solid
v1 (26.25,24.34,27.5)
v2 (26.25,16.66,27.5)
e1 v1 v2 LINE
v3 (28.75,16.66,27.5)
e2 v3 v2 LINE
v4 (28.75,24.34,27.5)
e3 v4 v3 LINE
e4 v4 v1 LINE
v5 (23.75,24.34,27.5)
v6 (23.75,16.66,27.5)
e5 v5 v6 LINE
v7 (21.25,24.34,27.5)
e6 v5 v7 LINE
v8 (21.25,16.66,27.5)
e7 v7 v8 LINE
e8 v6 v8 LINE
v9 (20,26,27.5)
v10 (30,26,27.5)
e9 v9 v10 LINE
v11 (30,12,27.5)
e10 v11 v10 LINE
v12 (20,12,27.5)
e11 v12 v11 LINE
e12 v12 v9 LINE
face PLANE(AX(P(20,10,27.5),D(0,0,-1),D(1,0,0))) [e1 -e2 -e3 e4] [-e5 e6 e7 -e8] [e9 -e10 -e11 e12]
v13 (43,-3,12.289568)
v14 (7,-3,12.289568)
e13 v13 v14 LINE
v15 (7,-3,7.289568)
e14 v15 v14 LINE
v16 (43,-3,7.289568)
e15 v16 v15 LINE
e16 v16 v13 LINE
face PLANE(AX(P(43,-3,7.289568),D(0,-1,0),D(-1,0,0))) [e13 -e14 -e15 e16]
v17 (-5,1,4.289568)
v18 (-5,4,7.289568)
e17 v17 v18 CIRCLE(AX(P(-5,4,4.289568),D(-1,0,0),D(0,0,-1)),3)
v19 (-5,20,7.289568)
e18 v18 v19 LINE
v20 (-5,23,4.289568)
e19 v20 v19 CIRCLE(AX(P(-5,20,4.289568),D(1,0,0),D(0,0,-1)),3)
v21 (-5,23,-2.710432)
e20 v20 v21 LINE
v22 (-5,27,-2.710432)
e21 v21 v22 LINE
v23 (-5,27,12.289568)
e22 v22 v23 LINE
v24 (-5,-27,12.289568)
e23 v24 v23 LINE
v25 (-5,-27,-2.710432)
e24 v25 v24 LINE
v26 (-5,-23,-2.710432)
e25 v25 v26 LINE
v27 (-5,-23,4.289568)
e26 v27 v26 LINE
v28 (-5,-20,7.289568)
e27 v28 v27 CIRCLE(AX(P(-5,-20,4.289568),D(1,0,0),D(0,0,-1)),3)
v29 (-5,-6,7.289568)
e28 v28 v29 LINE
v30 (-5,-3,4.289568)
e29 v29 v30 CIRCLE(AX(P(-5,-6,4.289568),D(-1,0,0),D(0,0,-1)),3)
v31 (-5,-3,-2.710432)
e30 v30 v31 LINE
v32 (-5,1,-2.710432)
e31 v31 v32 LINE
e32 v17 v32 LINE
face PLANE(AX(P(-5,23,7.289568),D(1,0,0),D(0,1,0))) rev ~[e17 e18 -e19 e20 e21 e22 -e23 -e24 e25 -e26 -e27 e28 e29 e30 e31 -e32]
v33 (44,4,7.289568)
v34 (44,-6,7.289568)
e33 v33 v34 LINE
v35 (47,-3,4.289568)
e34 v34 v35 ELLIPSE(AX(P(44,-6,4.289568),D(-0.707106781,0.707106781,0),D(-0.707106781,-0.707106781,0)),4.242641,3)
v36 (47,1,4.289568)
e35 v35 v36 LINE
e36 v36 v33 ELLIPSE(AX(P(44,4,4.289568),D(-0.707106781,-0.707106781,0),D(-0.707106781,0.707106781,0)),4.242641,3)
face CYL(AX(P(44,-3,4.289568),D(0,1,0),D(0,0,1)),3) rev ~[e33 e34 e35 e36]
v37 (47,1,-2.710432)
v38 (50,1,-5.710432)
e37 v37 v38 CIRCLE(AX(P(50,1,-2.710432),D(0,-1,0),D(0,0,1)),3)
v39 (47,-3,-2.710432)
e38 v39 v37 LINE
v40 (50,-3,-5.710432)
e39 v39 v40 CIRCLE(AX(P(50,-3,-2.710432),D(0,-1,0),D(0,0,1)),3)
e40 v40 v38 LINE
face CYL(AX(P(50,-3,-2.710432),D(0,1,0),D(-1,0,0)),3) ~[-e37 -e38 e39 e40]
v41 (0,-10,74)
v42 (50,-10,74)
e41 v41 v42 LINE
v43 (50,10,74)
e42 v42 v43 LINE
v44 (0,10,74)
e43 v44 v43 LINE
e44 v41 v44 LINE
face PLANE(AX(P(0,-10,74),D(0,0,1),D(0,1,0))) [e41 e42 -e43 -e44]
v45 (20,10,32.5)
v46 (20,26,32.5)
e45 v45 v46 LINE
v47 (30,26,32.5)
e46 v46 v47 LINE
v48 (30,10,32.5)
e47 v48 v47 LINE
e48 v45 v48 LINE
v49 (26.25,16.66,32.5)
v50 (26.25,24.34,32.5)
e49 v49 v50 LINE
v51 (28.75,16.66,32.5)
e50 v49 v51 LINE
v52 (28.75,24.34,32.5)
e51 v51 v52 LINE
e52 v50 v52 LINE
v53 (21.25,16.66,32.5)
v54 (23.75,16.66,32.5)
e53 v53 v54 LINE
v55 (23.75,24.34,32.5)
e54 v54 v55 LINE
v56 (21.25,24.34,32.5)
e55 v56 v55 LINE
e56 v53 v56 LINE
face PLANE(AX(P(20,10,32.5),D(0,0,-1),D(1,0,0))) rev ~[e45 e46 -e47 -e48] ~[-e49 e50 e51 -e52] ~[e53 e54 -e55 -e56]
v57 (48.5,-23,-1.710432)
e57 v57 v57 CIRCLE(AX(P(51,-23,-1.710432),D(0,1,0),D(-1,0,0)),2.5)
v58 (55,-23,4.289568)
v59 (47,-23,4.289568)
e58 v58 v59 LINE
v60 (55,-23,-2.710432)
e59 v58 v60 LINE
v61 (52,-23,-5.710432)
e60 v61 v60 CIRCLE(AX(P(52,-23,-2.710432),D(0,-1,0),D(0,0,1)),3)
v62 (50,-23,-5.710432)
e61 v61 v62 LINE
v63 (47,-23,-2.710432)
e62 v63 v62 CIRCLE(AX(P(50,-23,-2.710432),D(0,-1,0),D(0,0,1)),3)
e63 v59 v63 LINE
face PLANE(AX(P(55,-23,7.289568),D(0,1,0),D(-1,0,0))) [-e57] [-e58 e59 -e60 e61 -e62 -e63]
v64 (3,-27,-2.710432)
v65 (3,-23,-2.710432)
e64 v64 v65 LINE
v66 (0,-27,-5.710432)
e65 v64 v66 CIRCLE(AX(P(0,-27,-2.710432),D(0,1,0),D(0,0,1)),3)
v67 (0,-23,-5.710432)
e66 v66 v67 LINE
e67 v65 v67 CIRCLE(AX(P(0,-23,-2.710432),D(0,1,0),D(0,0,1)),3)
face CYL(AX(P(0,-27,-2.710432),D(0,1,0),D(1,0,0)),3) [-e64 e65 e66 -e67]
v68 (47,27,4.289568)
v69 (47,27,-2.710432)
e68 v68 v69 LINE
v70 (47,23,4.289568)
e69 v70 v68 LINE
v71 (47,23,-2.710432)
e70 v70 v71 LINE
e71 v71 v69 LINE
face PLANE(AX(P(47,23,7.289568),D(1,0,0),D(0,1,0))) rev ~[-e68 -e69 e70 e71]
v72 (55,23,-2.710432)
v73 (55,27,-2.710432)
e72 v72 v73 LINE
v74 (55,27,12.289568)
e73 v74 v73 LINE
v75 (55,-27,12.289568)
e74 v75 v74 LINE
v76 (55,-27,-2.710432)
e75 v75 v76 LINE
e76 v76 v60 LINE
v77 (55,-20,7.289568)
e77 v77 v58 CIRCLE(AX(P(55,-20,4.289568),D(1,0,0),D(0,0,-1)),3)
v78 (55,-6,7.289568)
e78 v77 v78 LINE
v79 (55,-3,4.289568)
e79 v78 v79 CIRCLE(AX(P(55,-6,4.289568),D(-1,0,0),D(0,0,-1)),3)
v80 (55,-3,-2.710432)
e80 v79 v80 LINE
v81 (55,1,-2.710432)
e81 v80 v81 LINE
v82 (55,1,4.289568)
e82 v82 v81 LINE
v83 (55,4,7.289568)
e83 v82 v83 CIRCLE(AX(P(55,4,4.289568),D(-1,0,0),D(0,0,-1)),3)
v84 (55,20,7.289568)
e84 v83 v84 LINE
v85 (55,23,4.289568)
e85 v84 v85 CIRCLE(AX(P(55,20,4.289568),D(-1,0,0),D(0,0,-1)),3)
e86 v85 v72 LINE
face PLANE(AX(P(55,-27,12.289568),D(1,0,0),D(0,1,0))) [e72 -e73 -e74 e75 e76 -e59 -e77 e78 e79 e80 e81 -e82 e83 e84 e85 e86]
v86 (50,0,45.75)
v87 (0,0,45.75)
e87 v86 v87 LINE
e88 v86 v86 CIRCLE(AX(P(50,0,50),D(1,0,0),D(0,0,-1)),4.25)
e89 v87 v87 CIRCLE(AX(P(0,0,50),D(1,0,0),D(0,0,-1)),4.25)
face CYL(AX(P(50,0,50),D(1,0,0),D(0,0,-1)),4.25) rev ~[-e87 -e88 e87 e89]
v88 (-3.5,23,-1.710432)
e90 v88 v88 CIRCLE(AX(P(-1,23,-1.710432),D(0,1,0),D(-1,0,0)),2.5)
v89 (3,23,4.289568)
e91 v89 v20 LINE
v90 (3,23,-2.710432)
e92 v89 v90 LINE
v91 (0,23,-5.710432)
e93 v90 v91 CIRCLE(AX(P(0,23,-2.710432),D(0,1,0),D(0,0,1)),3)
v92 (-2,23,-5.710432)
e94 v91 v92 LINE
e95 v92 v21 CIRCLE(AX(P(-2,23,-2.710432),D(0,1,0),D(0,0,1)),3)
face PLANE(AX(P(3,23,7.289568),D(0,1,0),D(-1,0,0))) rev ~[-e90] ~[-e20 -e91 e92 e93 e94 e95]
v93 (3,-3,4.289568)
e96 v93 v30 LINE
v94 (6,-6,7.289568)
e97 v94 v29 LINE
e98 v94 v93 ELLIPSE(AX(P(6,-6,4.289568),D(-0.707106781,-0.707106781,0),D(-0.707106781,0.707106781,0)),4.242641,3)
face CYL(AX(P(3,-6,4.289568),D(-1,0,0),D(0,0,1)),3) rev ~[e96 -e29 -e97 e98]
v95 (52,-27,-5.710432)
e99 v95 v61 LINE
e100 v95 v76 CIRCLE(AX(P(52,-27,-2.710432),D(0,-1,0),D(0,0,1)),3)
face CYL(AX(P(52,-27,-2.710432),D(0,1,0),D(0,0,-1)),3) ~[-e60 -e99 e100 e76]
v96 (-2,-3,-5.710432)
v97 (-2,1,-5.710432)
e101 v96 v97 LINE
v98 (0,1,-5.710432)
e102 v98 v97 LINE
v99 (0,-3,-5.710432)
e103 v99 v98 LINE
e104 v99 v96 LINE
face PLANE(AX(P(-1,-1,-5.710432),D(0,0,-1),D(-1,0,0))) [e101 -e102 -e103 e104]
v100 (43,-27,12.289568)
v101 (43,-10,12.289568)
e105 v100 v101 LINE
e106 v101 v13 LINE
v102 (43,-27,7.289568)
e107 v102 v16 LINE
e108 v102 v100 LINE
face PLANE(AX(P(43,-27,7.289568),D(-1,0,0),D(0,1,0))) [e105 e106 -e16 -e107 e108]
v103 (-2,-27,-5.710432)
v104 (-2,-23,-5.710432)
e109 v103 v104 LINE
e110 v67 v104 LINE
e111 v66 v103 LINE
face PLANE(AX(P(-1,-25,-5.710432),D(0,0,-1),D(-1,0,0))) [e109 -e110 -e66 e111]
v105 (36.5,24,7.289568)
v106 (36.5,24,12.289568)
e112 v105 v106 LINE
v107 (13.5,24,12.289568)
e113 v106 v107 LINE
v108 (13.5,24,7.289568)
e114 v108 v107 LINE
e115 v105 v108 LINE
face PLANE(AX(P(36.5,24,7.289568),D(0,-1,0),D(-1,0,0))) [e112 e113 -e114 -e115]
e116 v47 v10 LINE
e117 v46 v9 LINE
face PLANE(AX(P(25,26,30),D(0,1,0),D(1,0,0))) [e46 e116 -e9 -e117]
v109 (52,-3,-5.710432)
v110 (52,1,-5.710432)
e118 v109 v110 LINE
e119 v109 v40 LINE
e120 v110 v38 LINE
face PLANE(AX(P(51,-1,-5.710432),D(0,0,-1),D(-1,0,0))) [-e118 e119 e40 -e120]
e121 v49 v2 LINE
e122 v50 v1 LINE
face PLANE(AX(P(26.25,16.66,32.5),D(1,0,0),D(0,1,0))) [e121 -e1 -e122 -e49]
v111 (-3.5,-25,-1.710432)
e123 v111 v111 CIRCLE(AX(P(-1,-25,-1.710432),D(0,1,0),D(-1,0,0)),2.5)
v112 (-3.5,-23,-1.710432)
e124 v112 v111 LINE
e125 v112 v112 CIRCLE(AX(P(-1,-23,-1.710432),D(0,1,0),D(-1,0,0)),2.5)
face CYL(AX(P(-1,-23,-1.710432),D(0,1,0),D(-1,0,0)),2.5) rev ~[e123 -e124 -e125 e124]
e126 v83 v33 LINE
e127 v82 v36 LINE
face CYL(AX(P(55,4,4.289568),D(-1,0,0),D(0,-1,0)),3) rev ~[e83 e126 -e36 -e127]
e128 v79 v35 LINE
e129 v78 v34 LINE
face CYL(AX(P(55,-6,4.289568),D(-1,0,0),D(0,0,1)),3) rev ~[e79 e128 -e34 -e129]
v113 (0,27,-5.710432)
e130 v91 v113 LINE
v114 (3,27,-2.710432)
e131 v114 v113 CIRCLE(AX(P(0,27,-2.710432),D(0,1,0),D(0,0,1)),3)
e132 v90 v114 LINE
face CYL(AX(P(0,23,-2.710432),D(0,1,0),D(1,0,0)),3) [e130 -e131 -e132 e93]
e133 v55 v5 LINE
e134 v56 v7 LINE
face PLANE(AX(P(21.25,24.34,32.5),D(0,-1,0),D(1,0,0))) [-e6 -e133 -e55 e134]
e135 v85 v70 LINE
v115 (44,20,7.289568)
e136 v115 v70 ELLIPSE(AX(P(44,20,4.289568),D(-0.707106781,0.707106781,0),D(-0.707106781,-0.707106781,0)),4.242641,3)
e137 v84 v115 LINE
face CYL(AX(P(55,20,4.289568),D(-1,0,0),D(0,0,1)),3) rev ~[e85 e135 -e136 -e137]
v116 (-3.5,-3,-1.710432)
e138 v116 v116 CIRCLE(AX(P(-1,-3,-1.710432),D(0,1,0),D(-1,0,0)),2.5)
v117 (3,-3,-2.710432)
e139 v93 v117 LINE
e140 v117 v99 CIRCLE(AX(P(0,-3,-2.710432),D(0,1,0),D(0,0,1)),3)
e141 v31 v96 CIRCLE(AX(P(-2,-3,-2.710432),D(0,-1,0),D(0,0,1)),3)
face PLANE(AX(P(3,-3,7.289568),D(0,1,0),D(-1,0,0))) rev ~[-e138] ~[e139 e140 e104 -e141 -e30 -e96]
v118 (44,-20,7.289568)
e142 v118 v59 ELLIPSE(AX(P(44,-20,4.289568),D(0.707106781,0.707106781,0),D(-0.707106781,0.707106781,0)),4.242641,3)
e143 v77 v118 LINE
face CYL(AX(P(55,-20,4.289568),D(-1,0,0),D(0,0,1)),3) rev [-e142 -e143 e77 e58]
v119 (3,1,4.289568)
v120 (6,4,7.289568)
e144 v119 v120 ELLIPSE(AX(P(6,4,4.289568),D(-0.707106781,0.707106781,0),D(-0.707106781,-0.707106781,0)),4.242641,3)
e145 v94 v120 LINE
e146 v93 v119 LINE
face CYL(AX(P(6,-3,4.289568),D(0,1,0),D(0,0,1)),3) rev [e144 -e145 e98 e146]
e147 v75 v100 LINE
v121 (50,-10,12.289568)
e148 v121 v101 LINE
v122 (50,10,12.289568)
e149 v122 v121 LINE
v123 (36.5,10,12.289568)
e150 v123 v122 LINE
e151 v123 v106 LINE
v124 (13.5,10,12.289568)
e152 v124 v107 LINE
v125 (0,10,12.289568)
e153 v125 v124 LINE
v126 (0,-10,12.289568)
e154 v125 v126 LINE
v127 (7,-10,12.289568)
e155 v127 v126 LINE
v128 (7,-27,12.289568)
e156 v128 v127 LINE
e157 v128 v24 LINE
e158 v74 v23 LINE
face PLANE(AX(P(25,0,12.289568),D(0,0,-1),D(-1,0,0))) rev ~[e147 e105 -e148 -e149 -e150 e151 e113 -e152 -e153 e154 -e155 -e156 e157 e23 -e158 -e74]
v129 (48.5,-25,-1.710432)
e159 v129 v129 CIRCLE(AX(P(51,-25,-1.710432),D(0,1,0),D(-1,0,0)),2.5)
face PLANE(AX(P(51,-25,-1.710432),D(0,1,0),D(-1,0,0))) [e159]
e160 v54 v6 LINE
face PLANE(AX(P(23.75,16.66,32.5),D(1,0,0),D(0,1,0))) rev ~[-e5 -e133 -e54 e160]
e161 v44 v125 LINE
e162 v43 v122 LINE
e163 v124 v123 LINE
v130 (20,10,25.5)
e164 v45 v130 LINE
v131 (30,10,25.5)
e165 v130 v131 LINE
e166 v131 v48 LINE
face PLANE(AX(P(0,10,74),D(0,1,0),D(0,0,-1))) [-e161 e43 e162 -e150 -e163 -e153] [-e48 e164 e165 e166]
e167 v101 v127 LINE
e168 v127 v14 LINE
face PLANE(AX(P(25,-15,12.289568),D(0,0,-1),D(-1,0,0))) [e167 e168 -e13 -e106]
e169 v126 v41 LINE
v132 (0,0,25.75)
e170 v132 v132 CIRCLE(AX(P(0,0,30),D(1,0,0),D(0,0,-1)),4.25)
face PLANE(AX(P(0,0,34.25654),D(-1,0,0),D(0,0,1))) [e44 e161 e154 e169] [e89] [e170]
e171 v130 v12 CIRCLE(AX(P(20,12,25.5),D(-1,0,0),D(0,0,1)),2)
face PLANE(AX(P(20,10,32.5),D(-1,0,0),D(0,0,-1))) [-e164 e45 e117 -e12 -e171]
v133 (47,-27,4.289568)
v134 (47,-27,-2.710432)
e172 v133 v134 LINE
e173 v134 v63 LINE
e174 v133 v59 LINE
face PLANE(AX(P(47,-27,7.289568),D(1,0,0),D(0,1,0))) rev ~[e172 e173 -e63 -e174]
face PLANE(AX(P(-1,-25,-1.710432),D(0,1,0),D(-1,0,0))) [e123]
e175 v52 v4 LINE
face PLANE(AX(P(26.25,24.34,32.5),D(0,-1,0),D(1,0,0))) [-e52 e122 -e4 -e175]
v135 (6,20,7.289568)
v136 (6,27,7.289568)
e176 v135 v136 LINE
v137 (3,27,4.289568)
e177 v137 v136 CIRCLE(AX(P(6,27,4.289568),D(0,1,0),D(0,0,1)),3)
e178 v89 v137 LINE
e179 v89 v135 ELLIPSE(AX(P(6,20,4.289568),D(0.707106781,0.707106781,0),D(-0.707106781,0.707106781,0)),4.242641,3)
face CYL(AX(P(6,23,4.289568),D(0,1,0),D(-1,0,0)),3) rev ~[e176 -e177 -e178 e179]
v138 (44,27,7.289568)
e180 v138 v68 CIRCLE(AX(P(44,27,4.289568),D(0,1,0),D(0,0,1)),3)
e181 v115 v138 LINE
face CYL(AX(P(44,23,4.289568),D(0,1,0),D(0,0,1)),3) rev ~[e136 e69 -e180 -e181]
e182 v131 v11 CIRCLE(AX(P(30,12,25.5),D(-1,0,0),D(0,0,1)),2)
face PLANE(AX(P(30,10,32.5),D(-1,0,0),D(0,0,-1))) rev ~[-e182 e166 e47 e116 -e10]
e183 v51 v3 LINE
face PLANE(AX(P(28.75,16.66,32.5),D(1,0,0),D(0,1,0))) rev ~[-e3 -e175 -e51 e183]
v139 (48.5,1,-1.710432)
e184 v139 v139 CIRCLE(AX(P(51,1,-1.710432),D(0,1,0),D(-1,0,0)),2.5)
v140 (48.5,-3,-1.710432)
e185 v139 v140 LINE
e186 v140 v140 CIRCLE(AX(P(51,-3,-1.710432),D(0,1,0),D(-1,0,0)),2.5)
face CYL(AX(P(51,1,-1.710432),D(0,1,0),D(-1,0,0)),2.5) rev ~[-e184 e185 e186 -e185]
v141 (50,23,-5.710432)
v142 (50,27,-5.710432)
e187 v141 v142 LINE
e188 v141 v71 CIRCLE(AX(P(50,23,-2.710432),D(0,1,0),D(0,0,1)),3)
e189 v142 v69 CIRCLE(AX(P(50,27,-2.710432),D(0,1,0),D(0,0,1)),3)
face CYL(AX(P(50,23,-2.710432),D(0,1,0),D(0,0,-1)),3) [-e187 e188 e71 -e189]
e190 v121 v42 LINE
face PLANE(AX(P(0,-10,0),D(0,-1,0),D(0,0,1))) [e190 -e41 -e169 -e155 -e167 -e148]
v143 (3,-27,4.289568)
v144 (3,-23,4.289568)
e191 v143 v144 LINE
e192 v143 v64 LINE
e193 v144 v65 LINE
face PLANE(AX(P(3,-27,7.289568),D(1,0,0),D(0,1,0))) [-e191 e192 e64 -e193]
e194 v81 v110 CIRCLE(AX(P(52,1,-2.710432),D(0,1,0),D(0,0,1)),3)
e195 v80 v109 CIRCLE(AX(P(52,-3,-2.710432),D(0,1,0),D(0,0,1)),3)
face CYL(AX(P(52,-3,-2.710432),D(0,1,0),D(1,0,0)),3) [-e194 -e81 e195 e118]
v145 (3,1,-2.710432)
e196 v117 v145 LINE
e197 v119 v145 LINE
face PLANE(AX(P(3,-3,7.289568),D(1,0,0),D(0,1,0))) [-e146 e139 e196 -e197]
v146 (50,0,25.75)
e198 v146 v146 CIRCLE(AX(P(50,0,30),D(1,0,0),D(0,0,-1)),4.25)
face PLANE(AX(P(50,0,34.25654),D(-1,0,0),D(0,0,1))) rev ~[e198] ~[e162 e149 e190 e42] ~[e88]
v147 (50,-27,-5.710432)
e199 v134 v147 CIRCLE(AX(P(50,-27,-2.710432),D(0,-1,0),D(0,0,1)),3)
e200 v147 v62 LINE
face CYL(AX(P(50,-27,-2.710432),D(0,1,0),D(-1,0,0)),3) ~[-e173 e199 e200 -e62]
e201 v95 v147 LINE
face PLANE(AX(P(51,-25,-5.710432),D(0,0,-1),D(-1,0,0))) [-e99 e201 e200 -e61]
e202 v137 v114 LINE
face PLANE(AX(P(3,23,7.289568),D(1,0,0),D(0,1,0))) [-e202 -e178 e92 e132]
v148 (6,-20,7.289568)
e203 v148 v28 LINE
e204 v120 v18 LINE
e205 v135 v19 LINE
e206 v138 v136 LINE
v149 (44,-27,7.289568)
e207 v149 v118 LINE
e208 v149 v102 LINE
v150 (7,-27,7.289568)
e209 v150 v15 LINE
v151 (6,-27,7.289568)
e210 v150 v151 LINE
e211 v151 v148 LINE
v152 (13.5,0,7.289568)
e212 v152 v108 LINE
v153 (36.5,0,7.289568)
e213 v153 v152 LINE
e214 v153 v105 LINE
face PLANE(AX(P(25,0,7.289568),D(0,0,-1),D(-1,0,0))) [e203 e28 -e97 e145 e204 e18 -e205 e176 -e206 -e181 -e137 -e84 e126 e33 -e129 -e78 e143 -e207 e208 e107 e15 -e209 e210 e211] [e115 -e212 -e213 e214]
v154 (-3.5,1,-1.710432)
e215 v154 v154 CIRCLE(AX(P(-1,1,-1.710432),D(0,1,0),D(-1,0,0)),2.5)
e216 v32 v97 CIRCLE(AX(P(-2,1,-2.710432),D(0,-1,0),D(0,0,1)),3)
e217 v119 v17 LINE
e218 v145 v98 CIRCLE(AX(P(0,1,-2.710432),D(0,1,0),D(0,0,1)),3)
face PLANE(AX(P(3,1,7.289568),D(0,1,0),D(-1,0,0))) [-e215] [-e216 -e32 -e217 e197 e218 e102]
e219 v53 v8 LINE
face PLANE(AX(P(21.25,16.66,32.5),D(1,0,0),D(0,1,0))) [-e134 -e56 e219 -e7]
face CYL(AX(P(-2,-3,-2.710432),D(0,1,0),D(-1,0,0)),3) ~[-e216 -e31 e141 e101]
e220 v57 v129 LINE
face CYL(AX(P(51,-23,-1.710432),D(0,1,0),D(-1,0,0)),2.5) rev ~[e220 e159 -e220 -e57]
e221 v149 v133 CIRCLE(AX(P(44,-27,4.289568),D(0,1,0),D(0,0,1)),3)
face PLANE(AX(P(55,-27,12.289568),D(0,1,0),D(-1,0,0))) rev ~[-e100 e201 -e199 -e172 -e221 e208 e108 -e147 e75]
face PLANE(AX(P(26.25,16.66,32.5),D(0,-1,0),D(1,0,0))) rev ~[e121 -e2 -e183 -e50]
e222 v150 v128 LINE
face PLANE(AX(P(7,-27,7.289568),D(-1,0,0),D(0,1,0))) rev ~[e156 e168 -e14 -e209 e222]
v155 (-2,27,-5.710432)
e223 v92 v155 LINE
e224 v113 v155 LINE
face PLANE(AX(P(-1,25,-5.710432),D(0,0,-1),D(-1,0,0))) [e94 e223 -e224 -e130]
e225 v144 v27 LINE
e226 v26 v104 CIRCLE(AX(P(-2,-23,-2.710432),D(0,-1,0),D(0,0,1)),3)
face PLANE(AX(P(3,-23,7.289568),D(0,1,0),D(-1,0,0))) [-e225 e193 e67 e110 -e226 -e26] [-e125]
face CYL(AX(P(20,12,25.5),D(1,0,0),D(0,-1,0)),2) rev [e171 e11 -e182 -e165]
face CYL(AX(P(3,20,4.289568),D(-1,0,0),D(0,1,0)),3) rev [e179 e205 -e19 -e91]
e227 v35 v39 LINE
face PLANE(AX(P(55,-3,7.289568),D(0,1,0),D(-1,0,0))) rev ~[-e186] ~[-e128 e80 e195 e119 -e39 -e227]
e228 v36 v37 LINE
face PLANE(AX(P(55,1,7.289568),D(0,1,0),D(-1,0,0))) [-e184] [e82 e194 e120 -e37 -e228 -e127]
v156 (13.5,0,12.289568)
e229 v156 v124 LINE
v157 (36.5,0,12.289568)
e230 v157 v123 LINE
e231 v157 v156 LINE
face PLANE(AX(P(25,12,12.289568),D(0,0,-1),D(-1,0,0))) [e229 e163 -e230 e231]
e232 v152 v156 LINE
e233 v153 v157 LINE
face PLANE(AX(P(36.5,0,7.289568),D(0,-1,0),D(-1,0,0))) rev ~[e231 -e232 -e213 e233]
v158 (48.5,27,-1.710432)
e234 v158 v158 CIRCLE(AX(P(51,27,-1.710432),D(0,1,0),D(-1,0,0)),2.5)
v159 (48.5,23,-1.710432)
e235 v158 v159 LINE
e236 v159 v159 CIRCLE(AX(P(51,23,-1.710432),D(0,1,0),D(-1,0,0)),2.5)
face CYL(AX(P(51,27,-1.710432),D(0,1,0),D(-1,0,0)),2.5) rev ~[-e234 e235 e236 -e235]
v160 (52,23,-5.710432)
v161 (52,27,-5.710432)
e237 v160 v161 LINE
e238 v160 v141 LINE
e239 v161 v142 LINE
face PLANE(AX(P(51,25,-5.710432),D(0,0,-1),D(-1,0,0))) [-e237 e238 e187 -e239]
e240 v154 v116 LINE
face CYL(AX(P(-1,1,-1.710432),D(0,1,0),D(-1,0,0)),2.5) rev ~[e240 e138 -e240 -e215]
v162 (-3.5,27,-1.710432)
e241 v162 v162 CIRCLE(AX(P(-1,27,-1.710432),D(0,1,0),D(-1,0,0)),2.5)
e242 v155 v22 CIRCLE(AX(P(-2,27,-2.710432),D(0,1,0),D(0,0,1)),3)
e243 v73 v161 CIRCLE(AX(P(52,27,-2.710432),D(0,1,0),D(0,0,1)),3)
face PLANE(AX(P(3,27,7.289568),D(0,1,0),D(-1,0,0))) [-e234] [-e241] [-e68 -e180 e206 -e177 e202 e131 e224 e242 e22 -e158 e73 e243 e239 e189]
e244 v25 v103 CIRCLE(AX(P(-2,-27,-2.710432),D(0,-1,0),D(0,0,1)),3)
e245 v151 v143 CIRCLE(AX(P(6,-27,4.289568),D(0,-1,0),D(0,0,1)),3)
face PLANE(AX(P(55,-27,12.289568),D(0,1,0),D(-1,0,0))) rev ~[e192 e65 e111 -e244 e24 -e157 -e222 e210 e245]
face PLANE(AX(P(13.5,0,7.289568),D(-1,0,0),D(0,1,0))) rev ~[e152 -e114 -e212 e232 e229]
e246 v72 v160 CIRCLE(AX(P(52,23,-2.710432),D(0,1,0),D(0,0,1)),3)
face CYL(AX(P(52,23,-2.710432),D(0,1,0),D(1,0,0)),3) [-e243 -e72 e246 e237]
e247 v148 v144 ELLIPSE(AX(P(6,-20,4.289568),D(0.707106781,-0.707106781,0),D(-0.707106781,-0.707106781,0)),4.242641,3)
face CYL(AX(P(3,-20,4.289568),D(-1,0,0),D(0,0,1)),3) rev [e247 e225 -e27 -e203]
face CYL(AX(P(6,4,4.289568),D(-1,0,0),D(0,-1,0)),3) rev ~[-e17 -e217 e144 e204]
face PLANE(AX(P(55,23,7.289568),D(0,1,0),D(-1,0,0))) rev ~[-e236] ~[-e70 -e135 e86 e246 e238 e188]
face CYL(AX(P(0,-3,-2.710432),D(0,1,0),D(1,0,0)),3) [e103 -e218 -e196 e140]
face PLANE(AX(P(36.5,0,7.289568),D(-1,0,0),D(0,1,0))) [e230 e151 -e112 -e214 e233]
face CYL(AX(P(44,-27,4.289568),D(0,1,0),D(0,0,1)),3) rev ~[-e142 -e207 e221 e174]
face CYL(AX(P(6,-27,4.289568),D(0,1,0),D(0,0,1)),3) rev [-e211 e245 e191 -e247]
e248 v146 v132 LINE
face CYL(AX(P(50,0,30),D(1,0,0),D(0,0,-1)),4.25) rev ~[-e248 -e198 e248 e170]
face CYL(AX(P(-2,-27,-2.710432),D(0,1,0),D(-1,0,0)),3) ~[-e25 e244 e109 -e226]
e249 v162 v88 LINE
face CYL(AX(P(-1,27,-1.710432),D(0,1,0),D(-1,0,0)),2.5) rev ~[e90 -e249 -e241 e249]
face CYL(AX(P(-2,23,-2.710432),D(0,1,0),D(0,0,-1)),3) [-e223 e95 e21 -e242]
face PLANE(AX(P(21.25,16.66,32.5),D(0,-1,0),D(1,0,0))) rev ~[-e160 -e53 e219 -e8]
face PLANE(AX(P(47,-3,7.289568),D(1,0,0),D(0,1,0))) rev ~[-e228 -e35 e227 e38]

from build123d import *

# Parameters (mm, degrees)
BOSS_EXTRUDE1_DEPTH = 50
SKETCH3_R           = 4.25
CUT_EXTRUDE2_DEPTH  = 90.866567755
SKETCH5_W           = 10
SKETCH5_H           = 5
BOSS_EXTRUDE2_DEPTH = 16
FILLET1_R           = 2
SKETCH6_W           = 2.5
SKETCH6_H           = 7.68
CUT_EXTRUDE3_DEPTH  = 16
SKETCH9_W           = 50
SKETCH9_H           = 22.289567514
CUT_EXTRUDE4_DEPTH  = 92.520489509
SKETCH10_W          = 60
SKETCH10_H          = 54
BOSS_EXTRUDE3_DEPTH = 5
SKETCH11_W          = 23
SKETCH11_H          = 24
SKETCH11_W_2        = 36
CUT_EXTRUDE5_DEPTH  = 5
SKETCH12_W          = 8
SKETCH12_H          = 4
BOSS_EXTRUDE4_DEPTH = 13
FILLET2_R           = 3
FILLET3_R           = 3
FILLET4_R           = 3
FILLET5_R           = 3
SKETCH13_R          = 2.5
CUT_EXTRUDE6_DEPTH  = 13
SKETCH14_R          = 2.5
CUT_EXTRUDE7_DEPTH  = 10
SKETCH15_R          = 2.5
CUT_EXTRUDE8_DEPTH  = 2


with BuildPart() as part:
    # Sketch2 → Boss-Extrude1 (new body)
    with BuildSketch(Plane(origin=(0, 0, 0), x_dir=(0, 0, -1), z_dir=(1, 0, 0))):
        with BuildLine():
            Line((-74, 10), (0, 10))
            ThreePointArc((0, 10), (10, 0), (0, -10))
            Line((0, -10), (-74, -10))
            Line((-74, -10), (-74, 10))
        make_face()
    extrude(amount=BOSS_EXTRUDE1_DEPTH)

    # Sketch3 → Cut-Extrude2 (cut, through all)
    with BuildSketch(Plane(origin=(50, 0, 0), x_dir=(0, 0, -1), z_dir=(1, 0, 0))):
        with Locations((-30, 0)):
            Circle(SKETCH3_R)
        with Locations((-50, 0)):
            Circle(SKETCH3_R)
    extrude(amount=-CUT_EXTRUDE2_DEPTH, mode=Mode.SUBTRACT)

    # Sketch5 → Boss-Extrude2 (add)
    with BuildSketch(Plane(origin=(0, 10, 0), x_dir=(1, 0, 0), z_dir=(0, 1, 0))):
        with Locations((25, -30)):
            Rectangle(SKETCH5_W, SKETCH5_H)
    extrude(amount=BOSS_EXTRUDE2_DEPTH)

    # Fillet1
    fillet1_edges = [part.edges().sort_by_distance(p)[0] for p in [
        (25, 10, 27.5),
    ]]
    fillet(fillet1_edges, radius=FILLET1_R)

    # Sketch6 → Cut-Extrude3 (cut)
    with BuildSketch(Plane.XY.offset(32.5)):
        with Locations((22.5, 20.5)):
            Rectangle(SKETCH6_W, SKETCH6_H)
        with Locations((27.5, 20.5)):
            Rectangle(SKETCH6_W, SKETCH6_H)
    extrude(amount=-CUT_EXTRUDE3_DEPTH, mode=Mode.SUBTRACT)

    # Sketch9 → Cut-Extrude4 (cut, through all)
    with BuildSketch(Plane(origin=(0, 10, 0), x_dir=(1, 0, 0), z_dir=(0, 1, 0))):
        with Locations((25, -1.144783757)):
            Rectangle(SKETCH9_W, SKETCH9_H)
    extrude(amount=-CUT_EXTRUDE4_DEPTH, mode=Mode.SUBTRACT)

    # Sketch10 → Boss-Extrude3 (add)
    with BuildSketch(Plane(origin=(0, 0, 12.289567514), x_dir=(-1, 0, 0), z_dir=(0, 0, -1))):
        with Locations((-25, 0)):
            Rectangle(SKETCH10_W, SKETCH10_H)
    extrude(amount=BOSS_EXTRUDE3_DEPTH)

    # Sketch11 → Cut-Extrude5 (cut)
    with BuildSketch(Plane(origin=(0, 0, 7.289567514), x_dir=(-1, 0, 0), z_dir=(0, 0, -1))):
        with Locations((-25, 12)):
            Rectangle(SKETCH11_W, SKETCH11_H)
        with Locations((-25, -15)):
            Rectangle(SKETCH11_W_2, SKETCH11_H)
    extrude(amount=-CUT_EXTRUDE5_DEPTH, mode=Mode.SUBTRACT)

    # Sketch12 → Boss-Extrude4 (add)
    with BuildSketch(Plane(origin=(0, 0, 7.289567514), x_dir=(-1, 0, 0), z_dir=(0, 0, -1))):
        with Locations((1, 25)):
            Rectangle(SKETCH12_W, SKETCH12_H)
        with Locations((-51, 25)):
            Rectangle(SKETCH12_W, SKETCH12_H)
        with Locations((1, -25)):
            Rectangle(SKETCH12_W, SKETCH12_H)
        with Locations((-51, -25)):
            Rectangle(SKETCH12_W, SKETCH12_H)
        with Locations((1, -1)):
            Rectangle(SKETCH12_W, SKETCH12_H)
        with Locations((-51, -1)):
            Rectangle(SKETCH12_W, SKETCH12_H)
    extrude(amount=BOSS_EXTRUDE4_DEPTH)

    # Fillet2
    fillet2_edges = [part.edges().sort_by_distance(p)[0] for p in [
        (55, -25, -5.710432486),
        (47, -25, -5.710432486),
        (55, -1, -5.710432486),
        (47, -1, -5.710432486),
        (3, -25, -5.710432486),
        (-5, -25, -5.710432486),
        (3, -1, -5.710432486),
        (-5, -1, -5.710432486),
        (55, 25, -5.710432486),
        (47, 25, -5.710432486),
        (3, 25, -5.710432486),
        (-5, 25, -5.710432486),
    ]]
    fillet(fillet2_edges, radius=FILLET2_R)

    # Fillet3
    fillet3_edges = [part.edges().sort_by_distance(p)[0] for p in [
        (3, 25, 7.289567514),
        (-1, 23, 7.289567514),
    ]]
    fillet(fillet3_edges, radius=FILLET3_R)

    # Fillet4
    fillet4_edges = [part.edges().sort_by_distance(p)[0] for p in [
        (3, -25, 7.289567514),
        (-1, -23, 7.289567514),
        (47, -25, 7.289567514),
        (51, -23, 7.289567514),
        (47, -1, 7.289567514),
        (51, -3, 7.289567514),
        (3, -1, 7.289567514),
        (-1, -3, 7.289567514),
        (47, 25, 7.289567514),
        (51, 23, 7.289567514),
    ]]
    fillet(fillet4_edges, radius=FILLET4_R)

    # Fillet5
    fillet5_edges = [part.edges().sort_by_distance(p)[0] for p in [
        (49.5, 1, 7.289567514),
        (0.5, 1, 7.289567514),
    ]]
    fillet(fillet5_edges, radius=FILLET5_R)

    # Sketch13 → Cut-Extrude6 (cut)
    with BuildSketch(Plane(origin=(0, 27, 0), x_dir=(1, 0, 0), z_dir=(0, 1, 0))):
        with Locations((51, 1.710432486)):
            Circle(SKETCH13_R)
        with Locations((-1, 1.710432486)):
            Circle(SKETCH13_R)
    extrude(amount=-CUT_EXTRUDE6_DEPTH, mode=Mode.SUBTRACT)

    # Sketch14 → Cut-Extrude7 (cut)
    with BuildSketch(Plane(origin=(0, 1, 0), x_dir=(1, 0, 0), z_dir=(0, 1, 0))):
        with Locations((51, 1.710432486)):
            Circle(SKETCH14_R)
        with Locations((-1, 1.710432486)):
            Circle(SKETCH14_R)
    extrude(amount=-CUT_EXTRUDE7_DEPTH, mode=Mode.SUBTRACT)

    # Sketch15 → Cut-Extrude8 (cut)
    with BuildSketch(Plane(origin=(0, -23, 0), x_dir=(1, 0, 0), z_dir=(0, 1, 0))):
        with Locations((51, 1.710432486)):
            Circle(SKETCH15_R)
        with Locations((-1, 1.710432486)):
            Circle(SKETCH15_R)
    extrude(amount=-CUT_EXTRUDE8_DEPTH, mode=Mode.SUBTRACT)


solid = part.part
